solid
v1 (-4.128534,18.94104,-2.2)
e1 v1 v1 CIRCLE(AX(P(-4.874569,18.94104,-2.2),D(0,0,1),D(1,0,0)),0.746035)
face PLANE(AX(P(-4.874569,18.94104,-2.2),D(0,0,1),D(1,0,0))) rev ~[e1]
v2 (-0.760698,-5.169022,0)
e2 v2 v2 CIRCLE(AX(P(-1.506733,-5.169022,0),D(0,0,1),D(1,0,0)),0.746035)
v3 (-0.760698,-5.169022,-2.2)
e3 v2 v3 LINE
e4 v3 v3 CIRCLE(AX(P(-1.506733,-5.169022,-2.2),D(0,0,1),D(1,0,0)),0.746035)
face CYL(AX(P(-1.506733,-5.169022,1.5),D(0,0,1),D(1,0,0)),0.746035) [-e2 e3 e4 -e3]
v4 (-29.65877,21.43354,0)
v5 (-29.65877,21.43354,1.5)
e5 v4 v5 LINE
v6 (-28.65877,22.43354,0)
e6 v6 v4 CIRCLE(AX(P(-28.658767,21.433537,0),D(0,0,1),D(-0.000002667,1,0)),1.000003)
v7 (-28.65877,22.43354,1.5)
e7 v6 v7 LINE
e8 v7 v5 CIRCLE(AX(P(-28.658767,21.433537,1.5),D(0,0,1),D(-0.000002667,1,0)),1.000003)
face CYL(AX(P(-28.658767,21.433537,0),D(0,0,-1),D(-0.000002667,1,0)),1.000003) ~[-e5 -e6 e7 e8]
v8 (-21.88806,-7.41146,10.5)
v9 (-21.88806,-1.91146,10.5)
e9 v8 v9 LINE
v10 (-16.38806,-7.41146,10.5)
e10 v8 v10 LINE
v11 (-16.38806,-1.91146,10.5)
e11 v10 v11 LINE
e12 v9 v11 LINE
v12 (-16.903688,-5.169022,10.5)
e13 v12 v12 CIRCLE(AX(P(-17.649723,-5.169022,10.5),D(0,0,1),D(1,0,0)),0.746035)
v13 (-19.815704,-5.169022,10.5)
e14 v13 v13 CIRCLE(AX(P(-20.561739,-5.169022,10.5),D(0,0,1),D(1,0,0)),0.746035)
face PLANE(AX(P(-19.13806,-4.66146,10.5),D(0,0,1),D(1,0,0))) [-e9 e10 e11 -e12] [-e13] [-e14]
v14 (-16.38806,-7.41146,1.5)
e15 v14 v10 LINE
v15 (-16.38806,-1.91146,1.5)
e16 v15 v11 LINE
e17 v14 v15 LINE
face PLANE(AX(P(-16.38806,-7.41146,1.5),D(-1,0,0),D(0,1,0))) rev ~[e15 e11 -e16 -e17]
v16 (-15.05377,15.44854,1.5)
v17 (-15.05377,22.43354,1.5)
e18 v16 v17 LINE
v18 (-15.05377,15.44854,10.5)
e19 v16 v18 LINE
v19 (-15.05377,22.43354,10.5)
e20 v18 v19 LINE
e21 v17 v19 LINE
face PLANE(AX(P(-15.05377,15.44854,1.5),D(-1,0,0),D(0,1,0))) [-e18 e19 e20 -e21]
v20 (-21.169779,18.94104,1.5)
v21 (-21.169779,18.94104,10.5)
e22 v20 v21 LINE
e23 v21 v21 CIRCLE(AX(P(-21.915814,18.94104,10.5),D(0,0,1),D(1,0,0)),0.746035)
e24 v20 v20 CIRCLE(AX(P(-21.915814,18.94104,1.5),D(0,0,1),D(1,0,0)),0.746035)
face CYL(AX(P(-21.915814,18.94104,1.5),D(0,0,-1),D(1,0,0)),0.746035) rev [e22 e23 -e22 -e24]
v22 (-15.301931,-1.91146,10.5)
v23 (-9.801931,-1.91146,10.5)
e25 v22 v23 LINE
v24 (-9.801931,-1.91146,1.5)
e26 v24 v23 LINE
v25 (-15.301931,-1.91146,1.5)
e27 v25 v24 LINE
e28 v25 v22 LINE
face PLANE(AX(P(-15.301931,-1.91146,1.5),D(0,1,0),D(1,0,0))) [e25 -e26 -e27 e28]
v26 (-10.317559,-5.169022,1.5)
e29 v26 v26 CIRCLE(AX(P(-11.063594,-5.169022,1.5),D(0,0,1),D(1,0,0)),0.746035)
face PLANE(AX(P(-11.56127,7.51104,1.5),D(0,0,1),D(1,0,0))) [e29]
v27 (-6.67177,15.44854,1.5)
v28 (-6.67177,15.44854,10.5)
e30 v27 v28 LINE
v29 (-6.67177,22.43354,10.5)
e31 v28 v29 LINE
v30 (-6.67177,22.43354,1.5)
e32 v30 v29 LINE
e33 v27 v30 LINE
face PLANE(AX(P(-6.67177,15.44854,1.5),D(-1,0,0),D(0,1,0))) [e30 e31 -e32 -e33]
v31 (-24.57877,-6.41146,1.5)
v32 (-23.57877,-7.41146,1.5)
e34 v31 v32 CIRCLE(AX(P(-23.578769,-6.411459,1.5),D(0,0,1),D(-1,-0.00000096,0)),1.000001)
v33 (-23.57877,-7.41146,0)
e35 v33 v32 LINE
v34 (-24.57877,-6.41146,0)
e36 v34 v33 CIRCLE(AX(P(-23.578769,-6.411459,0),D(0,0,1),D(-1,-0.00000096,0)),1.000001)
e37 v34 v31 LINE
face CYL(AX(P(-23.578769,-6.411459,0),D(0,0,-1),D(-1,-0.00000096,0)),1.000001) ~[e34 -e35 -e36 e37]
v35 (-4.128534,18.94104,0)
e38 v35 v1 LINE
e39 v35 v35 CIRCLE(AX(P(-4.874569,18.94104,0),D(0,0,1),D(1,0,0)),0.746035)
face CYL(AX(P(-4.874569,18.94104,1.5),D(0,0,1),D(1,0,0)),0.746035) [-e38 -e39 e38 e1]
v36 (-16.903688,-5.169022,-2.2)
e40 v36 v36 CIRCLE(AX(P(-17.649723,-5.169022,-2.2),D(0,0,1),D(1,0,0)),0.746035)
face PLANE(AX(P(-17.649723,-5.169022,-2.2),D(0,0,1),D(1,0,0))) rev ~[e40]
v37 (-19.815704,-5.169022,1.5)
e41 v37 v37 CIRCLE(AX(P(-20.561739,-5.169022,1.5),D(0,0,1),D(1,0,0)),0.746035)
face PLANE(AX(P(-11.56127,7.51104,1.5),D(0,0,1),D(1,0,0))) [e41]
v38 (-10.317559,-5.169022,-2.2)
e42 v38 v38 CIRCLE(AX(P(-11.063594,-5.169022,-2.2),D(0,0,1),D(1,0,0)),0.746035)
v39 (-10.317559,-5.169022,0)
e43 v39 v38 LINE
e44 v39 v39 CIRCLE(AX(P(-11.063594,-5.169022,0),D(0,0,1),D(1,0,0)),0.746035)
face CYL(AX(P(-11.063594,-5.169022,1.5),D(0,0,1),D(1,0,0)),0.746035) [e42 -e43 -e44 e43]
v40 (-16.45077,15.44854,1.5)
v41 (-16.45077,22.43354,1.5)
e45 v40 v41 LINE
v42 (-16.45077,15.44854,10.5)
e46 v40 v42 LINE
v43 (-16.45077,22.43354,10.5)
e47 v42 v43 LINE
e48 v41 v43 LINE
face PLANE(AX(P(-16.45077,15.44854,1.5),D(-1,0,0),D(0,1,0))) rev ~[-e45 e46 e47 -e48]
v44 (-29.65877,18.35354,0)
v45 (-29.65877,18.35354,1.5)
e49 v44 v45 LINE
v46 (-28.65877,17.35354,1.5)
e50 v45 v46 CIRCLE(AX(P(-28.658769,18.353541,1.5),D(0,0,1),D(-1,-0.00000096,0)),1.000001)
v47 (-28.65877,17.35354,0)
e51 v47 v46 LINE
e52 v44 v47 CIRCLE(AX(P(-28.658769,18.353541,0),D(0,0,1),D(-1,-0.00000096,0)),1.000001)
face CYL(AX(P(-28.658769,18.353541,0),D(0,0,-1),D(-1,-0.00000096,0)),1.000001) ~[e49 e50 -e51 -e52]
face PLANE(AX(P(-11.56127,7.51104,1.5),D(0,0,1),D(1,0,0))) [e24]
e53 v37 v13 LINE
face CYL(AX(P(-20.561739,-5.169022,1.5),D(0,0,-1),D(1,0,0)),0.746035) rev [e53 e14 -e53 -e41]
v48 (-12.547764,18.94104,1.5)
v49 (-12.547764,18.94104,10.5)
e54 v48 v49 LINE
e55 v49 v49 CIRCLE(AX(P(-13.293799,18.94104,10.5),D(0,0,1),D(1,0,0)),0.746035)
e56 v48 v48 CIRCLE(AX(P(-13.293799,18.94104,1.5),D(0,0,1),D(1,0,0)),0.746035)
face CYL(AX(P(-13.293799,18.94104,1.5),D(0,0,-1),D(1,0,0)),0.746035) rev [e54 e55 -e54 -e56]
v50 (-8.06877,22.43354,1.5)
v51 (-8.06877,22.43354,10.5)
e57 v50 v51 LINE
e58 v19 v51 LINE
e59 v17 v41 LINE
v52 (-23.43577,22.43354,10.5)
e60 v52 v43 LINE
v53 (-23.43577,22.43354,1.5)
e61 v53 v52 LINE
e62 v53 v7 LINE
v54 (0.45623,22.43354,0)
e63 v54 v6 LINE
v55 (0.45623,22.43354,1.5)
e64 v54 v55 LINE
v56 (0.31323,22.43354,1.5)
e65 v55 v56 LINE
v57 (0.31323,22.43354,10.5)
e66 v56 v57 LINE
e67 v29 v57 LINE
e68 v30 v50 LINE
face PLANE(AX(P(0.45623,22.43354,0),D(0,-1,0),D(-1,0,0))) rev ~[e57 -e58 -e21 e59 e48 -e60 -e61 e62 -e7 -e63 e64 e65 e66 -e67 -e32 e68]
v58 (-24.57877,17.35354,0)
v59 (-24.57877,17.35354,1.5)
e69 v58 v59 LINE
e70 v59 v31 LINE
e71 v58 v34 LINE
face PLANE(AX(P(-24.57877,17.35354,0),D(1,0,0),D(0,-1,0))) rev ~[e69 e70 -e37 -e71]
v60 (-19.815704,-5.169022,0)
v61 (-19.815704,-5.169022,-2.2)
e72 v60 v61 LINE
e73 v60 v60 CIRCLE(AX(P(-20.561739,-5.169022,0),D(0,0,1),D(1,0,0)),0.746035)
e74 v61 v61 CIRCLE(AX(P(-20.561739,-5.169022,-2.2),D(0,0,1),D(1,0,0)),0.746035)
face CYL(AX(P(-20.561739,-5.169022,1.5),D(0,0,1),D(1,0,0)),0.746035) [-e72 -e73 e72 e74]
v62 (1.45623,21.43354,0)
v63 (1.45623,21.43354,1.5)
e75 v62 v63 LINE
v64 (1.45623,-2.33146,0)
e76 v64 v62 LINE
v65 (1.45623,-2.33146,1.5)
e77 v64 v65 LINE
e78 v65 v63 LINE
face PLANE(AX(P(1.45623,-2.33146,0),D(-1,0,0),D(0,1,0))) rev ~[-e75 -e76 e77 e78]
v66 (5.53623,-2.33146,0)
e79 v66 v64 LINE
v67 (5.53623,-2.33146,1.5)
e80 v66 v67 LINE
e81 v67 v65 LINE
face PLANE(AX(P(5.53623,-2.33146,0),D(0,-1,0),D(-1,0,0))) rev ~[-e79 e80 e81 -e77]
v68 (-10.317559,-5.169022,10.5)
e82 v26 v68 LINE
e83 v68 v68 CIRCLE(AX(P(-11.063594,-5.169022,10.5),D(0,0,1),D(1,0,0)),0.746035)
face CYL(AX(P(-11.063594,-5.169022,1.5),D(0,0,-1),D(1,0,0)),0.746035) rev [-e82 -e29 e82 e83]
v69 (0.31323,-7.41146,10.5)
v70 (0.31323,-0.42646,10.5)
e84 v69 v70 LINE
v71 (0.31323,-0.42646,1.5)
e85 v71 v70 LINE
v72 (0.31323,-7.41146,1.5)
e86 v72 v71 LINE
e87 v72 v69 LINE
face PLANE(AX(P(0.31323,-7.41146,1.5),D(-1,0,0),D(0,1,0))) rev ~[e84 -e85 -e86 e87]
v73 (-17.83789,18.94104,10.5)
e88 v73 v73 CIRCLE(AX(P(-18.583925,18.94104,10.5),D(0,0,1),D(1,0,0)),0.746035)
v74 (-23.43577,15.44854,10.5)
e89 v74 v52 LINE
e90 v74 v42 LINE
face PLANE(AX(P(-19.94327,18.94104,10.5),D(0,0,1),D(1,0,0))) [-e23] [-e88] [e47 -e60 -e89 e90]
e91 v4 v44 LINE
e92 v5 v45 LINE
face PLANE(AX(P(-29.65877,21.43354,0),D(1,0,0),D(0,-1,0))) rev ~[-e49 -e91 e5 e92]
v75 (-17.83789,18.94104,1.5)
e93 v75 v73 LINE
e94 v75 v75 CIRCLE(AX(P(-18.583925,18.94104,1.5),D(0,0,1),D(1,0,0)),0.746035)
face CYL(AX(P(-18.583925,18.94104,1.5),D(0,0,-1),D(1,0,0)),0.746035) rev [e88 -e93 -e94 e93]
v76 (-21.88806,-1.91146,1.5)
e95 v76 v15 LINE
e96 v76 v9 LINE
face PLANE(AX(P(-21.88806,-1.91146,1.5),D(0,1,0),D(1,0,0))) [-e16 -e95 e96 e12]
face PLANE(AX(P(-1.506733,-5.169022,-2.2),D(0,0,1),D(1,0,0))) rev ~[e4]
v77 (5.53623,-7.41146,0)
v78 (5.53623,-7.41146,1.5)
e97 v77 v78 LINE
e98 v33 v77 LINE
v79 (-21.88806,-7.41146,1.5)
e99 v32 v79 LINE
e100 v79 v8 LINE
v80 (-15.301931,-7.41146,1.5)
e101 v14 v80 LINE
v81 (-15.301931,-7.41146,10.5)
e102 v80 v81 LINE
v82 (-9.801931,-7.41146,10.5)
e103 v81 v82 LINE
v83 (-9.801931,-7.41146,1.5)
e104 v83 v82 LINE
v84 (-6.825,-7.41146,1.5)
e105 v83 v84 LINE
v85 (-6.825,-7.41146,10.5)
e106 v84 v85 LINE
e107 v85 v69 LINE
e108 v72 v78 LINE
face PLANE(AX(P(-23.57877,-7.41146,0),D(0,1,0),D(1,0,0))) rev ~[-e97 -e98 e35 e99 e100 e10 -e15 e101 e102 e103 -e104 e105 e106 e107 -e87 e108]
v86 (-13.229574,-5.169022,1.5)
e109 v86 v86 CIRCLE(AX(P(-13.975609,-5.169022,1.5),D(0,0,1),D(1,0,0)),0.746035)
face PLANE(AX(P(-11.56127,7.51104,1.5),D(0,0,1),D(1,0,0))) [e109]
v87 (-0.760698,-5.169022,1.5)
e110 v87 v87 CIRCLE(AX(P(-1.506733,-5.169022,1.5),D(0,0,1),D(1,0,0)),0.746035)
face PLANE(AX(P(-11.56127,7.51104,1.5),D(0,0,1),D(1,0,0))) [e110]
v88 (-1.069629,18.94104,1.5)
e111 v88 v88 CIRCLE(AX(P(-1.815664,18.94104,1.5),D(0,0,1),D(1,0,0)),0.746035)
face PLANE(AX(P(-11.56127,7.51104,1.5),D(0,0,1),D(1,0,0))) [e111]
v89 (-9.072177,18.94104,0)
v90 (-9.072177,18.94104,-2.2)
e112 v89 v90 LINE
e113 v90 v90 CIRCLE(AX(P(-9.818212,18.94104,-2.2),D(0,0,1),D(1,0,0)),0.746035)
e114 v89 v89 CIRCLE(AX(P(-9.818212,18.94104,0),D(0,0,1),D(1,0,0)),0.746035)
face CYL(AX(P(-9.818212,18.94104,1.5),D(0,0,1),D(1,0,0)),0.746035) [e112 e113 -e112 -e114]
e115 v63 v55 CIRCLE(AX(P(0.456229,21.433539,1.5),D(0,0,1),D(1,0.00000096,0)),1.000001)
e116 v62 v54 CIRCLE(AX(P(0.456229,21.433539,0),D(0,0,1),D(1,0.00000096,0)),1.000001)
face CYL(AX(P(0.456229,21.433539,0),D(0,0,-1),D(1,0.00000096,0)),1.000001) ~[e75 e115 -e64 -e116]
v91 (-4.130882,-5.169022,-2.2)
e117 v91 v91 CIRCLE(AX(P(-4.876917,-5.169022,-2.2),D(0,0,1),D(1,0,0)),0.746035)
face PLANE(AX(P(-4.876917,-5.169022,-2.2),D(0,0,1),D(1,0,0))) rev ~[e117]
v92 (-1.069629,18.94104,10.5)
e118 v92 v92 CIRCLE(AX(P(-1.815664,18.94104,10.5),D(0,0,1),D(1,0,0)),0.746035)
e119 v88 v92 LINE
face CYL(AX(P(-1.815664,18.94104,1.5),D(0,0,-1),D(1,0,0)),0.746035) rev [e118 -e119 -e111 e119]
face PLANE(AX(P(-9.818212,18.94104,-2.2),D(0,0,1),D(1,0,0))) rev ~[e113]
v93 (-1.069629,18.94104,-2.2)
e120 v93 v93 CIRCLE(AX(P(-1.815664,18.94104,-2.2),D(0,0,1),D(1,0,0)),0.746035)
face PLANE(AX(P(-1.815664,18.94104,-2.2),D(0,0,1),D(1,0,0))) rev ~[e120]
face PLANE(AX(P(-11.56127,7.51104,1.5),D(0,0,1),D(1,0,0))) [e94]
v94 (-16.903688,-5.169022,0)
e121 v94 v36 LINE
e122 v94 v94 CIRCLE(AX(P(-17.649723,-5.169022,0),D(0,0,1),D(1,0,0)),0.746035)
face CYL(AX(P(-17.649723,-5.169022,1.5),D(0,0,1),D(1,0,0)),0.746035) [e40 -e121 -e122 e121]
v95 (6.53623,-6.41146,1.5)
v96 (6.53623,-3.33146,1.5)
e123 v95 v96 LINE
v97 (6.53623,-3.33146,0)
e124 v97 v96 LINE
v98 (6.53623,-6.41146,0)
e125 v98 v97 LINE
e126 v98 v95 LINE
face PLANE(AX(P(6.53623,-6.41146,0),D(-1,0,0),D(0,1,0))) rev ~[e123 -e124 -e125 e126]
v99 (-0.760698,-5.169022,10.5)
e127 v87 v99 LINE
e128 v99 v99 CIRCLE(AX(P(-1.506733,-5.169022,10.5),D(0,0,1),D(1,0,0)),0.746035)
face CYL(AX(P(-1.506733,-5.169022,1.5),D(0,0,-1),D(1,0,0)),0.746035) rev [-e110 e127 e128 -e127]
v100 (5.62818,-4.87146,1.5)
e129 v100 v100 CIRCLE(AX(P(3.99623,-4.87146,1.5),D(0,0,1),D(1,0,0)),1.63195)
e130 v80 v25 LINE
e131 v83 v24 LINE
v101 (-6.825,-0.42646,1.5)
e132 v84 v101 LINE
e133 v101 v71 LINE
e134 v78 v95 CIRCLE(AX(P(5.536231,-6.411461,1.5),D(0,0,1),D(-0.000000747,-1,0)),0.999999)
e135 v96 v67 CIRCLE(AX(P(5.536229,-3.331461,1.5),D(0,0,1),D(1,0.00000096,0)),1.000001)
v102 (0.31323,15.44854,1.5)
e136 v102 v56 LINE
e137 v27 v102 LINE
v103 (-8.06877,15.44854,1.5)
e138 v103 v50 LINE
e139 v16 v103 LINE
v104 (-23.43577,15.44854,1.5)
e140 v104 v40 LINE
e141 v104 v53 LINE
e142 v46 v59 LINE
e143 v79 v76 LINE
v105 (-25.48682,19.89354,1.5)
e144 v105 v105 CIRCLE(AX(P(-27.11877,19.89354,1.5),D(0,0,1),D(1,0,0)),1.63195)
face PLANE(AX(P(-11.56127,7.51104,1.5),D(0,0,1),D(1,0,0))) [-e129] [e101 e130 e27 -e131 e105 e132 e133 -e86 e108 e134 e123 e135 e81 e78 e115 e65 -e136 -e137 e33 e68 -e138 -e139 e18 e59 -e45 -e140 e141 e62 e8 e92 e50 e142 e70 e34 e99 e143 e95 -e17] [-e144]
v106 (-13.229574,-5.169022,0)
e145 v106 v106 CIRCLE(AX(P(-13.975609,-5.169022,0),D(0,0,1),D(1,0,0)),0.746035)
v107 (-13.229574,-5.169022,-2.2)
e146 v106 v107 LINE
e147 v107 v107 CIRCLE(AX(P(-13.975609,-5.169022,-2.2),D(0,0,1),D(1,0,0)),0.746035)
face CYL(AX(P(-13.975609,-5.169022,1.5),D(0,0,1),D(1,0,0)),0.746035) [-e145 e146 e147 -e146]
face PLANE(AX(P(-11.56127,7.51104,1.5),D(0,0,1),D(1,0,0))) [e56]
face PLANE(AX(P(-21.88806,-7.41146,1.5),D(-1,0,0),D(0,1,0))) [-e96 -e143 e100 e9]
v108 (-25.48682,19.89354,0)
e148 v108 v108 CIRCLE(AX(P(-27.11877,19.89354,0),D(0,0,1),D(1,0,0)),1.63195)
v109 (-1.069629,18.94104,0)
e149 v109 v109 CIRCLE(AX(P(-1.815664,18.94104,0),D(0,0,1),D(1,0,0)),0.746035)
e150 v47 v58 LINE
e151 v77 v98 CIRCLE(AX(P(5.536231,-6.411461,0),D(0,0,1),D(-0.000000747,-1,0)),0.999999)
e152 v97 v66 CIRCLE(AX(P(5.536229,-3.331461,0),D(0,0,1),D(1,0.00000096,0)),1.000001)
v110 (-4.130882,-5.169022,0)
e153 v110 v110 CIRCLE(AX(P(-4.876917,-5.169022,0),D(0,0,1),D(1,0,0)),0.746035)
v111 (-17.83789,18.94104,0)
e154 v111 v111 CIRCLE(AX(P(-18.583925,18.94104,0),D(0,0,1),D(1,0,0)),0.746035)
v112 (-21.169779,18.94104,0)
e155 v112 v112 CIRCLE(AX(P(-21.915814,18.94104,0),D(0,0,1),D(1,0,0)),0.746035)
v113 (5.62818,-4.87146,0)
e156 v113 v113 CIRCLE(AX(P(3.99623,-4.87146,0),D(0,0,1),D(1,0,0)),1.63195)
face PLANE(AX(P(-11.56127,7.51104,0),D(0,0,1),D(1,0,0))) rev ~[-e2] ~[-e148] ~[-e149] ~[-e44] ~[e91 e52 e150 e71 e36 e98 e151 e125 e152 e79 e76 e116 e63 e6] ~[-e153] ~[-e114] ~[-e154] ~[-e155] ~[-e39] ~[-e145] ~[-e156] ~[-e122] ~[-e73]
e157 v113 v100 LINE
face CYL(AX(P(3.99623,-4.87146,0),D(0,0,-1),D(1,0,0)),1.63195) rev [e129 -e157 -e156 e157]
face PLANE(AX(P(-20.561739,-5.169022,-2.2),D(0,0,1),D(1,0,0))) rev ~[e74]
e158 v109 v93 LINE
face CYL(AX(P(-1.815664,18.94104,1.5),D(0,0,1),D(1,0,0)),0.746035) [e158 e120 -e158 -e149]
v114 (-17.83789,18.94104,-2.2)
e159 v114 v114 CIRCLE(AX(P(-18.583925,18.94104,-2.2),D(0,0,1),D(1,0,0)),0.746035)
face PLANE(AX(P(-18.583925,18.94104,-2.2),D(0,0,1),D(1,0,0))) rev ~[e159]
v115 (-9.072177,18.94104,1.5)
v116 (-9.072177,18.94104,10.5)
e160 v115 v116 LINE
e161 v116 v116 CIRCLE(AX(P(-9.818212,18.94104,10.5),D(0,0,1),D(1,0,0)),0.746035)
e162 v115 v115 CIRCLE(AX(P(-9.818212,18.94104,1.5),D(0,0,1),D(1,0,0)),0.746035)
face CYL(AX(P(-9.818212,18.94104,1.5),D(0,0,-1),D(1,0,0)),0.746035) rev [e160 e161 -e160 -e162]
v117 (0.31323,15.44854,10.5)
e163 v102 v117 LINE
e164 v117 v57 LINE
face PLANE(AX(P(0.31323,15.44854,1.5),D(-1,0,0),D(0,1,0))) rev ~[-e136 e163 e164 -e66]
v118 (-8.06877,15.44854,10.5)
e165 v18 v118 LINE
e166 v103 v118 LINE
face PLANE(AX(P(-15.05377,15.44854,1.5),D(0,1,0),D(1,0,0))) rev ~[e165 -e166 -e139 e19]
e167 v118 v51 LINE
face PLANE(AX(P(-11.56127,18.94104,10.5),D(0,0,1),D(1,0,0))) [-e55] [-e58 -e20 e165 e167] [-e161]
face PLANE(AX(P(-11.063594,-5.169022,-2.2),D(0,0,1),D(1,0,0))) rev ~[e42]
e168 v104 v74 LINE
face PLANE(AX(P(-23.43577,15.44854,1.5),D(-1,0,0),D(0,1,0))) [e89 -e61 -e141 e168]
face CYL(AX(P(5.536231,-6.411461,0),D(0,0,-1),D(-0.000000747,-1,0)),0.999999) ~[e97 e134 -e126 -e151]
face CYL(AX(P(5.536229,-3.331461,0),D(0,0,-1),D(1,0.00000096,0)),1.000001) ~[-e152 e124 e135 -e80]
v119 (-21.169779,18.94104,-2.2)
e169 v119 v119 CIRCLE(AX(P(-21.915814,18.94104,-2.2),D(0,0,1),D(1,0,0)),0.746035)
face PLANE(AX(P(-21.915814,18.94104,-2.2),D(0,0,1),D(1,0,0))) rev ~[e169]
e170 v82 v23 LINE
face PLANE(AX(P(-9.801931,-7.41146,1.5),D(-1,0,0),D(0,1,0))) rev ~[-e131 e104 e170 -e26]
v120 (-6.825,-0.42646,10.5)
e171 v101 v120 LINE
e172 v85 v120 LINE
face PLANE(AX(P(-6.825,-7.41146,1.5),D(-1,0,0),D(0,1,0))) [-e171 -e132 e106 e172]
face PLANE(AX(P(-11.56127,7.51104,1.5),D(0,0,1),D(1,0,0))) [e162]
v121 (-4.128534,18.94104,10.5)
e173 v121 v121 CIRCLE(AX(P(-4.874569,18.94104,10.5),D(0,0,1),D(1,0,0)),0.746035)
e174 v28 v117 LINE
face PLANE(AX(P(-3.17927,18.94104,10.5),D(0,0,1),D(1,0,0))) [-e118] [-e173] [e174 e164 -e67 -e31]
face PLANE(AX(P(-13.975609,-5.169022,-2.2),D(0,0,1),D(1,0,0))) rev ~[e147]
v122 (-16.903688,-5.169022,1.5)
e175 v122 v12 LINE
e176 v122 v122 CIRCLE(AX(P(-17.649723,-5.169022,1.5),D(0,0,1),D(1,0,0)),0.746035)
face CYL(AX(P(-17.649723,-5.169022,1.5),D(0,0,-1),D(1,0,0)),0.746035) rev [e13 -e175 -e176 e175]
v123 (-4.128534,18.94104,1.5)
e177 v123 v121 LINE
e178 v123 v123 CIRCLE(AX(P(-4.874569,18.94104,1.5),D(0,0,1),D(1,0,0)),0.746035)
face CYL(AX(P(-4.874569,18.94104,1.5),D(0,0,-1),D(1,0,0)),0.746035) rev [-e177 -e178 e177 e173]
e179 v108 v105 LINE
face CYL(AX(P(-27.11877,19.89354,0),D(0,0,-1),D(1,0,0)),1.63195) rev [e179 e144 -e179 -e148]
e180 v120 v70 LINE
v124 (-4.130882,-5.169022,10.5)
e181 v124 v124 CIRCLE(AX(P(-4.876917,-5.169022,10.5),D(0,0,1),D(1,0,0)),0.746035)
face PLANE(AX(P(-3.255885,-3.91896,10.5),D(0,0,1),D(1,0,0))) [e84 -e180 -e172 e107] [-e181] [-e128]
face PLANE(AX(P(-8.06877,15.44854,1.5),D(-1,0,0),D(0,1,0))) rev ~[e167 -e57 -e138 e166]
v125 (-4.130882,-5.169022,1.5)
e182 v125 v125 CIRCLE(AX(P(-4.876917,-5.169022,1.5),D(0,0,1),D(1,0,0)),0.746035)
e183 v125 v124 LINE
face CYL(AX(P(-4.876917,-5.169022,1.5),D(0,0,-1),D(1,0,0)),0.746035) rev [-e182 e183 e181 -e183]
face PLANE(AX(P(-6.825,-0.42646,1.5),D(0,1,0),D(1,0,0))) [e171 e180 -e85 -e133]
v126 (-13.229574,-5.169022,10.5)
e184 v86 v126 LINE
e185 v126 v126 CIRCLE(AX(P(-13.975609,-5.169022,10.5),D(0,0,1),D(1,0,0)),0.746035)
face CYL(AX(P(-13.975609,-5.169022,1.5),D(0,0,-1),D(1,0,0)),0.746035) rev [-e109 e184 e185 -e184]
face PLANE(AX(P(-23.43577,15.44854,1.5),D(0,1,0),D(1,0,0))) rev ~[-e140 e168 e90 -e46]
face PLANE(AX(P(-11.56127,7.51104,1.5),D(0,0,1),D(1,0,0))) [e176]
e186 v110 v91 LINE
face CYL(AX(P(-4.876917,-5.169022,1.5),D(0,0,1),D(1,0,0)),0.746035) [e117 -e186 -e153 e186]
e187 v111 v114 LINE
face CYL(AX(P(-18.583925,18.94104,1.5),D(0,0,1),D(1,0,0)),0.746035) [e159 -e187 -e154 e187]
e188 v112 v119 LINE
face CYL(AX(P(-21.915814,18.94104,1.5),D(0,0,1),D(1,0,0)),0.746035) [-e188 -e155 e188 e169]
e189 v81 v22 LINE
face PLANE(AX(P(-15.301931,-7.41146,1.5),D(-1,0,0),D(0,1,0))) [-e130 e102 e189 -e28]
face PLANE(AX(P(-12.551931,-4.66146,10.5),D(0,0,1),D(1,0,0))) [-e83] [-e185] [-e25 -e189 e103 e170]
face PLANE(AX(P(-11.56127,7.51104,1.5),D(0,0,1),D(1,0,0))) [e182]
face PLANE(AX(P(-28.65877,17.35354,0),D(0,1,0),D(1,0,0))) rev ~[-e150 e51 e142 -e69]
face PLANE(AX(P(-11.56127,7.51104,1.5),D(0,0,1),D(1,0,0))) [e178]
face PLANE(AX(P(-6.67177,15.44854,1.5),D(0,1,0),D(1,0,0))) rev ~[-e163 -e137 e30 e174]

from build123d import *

# Parameters (mm, degrees)
F0_R     = 1.63195
F1_DEPTH = 1.5
F2_W     = 6.985
F2_H     = 6.985
F2_R     = 0.746035
F2_W_2   = 7.13823
F2_W_3   = 5.5
F2_H_2   = 5.5
F3_DEPTH = 9
F4_DEPTH = 3.7


with BuildPart() as f1:
    # F0 (on Top) → F1 (new body)
    with BuildSketch(Plane.XY):
        with BuildLine():
            Line((0.45623, 22.43354), (-28.65877, 22.43354))
            ThreePointArc((-28.65877, 22.43354), (-29.365876, 22.140646), (-29.65877, 21.43354))
            Line((-29.65877, 21.43354), (-29.65877, 18.35354))
            ThreePointArc((-29.65877, 18.35354), (-29.365876, 17.646433), (-28.65877, 17.35354))
            Line((-28.65877, 17.35354), (-24.57877, 17.35354))
            Line((-24.57877, 17.35354), (-24.57877, -6.41146))
            ThreePointArc((-24.57877, -6.41146), (-24.285876, -7.118567), (-23.57877, -7.41146))
            Line((-23.57877, -7.41146), (5.53623, -7.41146))
            ThreePointArc((5.53623, -7.41146), (6.243337, -7.118567), (6.53623, -6.41146))
            Line((6.53623, -6.41146), (6.53623, -3.33146))
            ThreePointArc((6.53623, -3.33146), (6.243337, -2.624354), (5.53623, -2.33146))
            Line((5.53623, -2.33146), (1.45623, -2.33146))
            Line((1.45623, -2.33146), (1.45623, 21.43354))
            ThreePointArc((1.45623, 21.43354), (1.163337, 22.140646), (0.45623, 22.43354))
        make_face()
        with Locations((3.99623, -4.87146)):
            Circle(F0_R, mode=Mode.SUBTRACT)
        with Locations((-27.11877, 19.89354)):
            Circle(F0_R, mode=Mode.SUBTRACT)
    extrude(amount=F1_DEPTH)

    # F2 (on face) → F3 (join)
    with BuildSketch(Plane.XY.offset(1.5)):
        with Locations((-19.94327, 18.94104)):
            Rectangle(F2_W, F2_H)
        with Locations((-21.915814, 18.94104)):
            Circle(F2_R, mode=Mode.SUBTRACT)
        with Locations((-18.583925, 18.94104)):
            Circle(F2_R, mode=Mode.SUBTRACT)
        with Locations((-11.56127, 18.94104)):
            Rectangle(F2_W, F2_H)
        with Locations((-13.293799, 18.94104)):
            Circle(F2_R, mode=Mode.SUBTRACT)
        with Locations((-9.818212, 18.94104)):
            Circle(F2_R, mode=Mode.SUBTRACT)
        with Locations((-3.17927, 18.94104)):
            Rectangle(F2_W, F2_H)
        with Locations((-4.874569, 18.94104)):
            Circle(F2_R, mode=Mode.SUBTRACT)
        with Locations((-1.815664, 18.94104)):
            Circle(F2_R, mode=Mode.SUBTRACT)
        with Locations((-3.255885, -3.91896)):
            Rectangle(F2_W_2, F2_H)
        with Locations((-4.876917, -5.169022)):
            Circle(F2_R, mode=Mode.SUBTRACT)
        with Locations((-1.506733, -5.169022)):
            Circle(F2_R, mode=Mode.SUBTRACT)
        with Locations((-12.551931, -4.66146)):
            Rectangle(F2_W_3, F2_H_2)
        with Locations((-13.975609, -5.169022)):
            Circle(F2_R, mode=Mode.SUBTRACT)
        with Locations((-11.063594, -5.169022)):
            Circle(F2_R, mode=Mode.SUBTRACT)
        with Locations((-19.13806, -4.66146)):
            Rectangle(F2_W_3, F2_H_2)
        with Locations((-20.561739, -5.169022)):
            Circle(F2_R, mode=Mode.SUBTRACT)
        with Locations((-17.649723, -5.169022)):
            Circle(F2_R, mode=Mode.SUBTRACT)
    extrude(amount=F3_DEPTH)

    # F2 (on face) → F4 (join)
    with BuildSketch(Plane.XY.offset(1.5)):
        with Locations((-20.561739, -5.169022)):
            Circle(F2_R)
        with Locations((-13.975609, -5.169022)):
            Circle(F2_R)
        with Locations((-17.649723, -5.169022)):
            Circle(F2_R)
        with Locations((-11.063594, -5.169022)):
            Circle(F2_R)
        with Locations((-4.876917, -5.169022)):
            Circle(F2_R)
        with Locations((-1.506733, -5.169022)):
            Circle(F2_R)
        with Locations((-1.815664, 18.94104)):
            Circle(F2_R)
        with Locations((-4.874569, 18.94104)):
            Circle(F2_R)
        with Locations((-9.818212, 18.94104)):
            Circle(F2_R)
        with Locations((-18.583925, 18.94104)):
            Circle(F2_R)
        with Locations((-21.915814, 18.94104)):
            Circle(F2_R)
    extrude(amount=-F4_DEPTH)


solid = f1.part
